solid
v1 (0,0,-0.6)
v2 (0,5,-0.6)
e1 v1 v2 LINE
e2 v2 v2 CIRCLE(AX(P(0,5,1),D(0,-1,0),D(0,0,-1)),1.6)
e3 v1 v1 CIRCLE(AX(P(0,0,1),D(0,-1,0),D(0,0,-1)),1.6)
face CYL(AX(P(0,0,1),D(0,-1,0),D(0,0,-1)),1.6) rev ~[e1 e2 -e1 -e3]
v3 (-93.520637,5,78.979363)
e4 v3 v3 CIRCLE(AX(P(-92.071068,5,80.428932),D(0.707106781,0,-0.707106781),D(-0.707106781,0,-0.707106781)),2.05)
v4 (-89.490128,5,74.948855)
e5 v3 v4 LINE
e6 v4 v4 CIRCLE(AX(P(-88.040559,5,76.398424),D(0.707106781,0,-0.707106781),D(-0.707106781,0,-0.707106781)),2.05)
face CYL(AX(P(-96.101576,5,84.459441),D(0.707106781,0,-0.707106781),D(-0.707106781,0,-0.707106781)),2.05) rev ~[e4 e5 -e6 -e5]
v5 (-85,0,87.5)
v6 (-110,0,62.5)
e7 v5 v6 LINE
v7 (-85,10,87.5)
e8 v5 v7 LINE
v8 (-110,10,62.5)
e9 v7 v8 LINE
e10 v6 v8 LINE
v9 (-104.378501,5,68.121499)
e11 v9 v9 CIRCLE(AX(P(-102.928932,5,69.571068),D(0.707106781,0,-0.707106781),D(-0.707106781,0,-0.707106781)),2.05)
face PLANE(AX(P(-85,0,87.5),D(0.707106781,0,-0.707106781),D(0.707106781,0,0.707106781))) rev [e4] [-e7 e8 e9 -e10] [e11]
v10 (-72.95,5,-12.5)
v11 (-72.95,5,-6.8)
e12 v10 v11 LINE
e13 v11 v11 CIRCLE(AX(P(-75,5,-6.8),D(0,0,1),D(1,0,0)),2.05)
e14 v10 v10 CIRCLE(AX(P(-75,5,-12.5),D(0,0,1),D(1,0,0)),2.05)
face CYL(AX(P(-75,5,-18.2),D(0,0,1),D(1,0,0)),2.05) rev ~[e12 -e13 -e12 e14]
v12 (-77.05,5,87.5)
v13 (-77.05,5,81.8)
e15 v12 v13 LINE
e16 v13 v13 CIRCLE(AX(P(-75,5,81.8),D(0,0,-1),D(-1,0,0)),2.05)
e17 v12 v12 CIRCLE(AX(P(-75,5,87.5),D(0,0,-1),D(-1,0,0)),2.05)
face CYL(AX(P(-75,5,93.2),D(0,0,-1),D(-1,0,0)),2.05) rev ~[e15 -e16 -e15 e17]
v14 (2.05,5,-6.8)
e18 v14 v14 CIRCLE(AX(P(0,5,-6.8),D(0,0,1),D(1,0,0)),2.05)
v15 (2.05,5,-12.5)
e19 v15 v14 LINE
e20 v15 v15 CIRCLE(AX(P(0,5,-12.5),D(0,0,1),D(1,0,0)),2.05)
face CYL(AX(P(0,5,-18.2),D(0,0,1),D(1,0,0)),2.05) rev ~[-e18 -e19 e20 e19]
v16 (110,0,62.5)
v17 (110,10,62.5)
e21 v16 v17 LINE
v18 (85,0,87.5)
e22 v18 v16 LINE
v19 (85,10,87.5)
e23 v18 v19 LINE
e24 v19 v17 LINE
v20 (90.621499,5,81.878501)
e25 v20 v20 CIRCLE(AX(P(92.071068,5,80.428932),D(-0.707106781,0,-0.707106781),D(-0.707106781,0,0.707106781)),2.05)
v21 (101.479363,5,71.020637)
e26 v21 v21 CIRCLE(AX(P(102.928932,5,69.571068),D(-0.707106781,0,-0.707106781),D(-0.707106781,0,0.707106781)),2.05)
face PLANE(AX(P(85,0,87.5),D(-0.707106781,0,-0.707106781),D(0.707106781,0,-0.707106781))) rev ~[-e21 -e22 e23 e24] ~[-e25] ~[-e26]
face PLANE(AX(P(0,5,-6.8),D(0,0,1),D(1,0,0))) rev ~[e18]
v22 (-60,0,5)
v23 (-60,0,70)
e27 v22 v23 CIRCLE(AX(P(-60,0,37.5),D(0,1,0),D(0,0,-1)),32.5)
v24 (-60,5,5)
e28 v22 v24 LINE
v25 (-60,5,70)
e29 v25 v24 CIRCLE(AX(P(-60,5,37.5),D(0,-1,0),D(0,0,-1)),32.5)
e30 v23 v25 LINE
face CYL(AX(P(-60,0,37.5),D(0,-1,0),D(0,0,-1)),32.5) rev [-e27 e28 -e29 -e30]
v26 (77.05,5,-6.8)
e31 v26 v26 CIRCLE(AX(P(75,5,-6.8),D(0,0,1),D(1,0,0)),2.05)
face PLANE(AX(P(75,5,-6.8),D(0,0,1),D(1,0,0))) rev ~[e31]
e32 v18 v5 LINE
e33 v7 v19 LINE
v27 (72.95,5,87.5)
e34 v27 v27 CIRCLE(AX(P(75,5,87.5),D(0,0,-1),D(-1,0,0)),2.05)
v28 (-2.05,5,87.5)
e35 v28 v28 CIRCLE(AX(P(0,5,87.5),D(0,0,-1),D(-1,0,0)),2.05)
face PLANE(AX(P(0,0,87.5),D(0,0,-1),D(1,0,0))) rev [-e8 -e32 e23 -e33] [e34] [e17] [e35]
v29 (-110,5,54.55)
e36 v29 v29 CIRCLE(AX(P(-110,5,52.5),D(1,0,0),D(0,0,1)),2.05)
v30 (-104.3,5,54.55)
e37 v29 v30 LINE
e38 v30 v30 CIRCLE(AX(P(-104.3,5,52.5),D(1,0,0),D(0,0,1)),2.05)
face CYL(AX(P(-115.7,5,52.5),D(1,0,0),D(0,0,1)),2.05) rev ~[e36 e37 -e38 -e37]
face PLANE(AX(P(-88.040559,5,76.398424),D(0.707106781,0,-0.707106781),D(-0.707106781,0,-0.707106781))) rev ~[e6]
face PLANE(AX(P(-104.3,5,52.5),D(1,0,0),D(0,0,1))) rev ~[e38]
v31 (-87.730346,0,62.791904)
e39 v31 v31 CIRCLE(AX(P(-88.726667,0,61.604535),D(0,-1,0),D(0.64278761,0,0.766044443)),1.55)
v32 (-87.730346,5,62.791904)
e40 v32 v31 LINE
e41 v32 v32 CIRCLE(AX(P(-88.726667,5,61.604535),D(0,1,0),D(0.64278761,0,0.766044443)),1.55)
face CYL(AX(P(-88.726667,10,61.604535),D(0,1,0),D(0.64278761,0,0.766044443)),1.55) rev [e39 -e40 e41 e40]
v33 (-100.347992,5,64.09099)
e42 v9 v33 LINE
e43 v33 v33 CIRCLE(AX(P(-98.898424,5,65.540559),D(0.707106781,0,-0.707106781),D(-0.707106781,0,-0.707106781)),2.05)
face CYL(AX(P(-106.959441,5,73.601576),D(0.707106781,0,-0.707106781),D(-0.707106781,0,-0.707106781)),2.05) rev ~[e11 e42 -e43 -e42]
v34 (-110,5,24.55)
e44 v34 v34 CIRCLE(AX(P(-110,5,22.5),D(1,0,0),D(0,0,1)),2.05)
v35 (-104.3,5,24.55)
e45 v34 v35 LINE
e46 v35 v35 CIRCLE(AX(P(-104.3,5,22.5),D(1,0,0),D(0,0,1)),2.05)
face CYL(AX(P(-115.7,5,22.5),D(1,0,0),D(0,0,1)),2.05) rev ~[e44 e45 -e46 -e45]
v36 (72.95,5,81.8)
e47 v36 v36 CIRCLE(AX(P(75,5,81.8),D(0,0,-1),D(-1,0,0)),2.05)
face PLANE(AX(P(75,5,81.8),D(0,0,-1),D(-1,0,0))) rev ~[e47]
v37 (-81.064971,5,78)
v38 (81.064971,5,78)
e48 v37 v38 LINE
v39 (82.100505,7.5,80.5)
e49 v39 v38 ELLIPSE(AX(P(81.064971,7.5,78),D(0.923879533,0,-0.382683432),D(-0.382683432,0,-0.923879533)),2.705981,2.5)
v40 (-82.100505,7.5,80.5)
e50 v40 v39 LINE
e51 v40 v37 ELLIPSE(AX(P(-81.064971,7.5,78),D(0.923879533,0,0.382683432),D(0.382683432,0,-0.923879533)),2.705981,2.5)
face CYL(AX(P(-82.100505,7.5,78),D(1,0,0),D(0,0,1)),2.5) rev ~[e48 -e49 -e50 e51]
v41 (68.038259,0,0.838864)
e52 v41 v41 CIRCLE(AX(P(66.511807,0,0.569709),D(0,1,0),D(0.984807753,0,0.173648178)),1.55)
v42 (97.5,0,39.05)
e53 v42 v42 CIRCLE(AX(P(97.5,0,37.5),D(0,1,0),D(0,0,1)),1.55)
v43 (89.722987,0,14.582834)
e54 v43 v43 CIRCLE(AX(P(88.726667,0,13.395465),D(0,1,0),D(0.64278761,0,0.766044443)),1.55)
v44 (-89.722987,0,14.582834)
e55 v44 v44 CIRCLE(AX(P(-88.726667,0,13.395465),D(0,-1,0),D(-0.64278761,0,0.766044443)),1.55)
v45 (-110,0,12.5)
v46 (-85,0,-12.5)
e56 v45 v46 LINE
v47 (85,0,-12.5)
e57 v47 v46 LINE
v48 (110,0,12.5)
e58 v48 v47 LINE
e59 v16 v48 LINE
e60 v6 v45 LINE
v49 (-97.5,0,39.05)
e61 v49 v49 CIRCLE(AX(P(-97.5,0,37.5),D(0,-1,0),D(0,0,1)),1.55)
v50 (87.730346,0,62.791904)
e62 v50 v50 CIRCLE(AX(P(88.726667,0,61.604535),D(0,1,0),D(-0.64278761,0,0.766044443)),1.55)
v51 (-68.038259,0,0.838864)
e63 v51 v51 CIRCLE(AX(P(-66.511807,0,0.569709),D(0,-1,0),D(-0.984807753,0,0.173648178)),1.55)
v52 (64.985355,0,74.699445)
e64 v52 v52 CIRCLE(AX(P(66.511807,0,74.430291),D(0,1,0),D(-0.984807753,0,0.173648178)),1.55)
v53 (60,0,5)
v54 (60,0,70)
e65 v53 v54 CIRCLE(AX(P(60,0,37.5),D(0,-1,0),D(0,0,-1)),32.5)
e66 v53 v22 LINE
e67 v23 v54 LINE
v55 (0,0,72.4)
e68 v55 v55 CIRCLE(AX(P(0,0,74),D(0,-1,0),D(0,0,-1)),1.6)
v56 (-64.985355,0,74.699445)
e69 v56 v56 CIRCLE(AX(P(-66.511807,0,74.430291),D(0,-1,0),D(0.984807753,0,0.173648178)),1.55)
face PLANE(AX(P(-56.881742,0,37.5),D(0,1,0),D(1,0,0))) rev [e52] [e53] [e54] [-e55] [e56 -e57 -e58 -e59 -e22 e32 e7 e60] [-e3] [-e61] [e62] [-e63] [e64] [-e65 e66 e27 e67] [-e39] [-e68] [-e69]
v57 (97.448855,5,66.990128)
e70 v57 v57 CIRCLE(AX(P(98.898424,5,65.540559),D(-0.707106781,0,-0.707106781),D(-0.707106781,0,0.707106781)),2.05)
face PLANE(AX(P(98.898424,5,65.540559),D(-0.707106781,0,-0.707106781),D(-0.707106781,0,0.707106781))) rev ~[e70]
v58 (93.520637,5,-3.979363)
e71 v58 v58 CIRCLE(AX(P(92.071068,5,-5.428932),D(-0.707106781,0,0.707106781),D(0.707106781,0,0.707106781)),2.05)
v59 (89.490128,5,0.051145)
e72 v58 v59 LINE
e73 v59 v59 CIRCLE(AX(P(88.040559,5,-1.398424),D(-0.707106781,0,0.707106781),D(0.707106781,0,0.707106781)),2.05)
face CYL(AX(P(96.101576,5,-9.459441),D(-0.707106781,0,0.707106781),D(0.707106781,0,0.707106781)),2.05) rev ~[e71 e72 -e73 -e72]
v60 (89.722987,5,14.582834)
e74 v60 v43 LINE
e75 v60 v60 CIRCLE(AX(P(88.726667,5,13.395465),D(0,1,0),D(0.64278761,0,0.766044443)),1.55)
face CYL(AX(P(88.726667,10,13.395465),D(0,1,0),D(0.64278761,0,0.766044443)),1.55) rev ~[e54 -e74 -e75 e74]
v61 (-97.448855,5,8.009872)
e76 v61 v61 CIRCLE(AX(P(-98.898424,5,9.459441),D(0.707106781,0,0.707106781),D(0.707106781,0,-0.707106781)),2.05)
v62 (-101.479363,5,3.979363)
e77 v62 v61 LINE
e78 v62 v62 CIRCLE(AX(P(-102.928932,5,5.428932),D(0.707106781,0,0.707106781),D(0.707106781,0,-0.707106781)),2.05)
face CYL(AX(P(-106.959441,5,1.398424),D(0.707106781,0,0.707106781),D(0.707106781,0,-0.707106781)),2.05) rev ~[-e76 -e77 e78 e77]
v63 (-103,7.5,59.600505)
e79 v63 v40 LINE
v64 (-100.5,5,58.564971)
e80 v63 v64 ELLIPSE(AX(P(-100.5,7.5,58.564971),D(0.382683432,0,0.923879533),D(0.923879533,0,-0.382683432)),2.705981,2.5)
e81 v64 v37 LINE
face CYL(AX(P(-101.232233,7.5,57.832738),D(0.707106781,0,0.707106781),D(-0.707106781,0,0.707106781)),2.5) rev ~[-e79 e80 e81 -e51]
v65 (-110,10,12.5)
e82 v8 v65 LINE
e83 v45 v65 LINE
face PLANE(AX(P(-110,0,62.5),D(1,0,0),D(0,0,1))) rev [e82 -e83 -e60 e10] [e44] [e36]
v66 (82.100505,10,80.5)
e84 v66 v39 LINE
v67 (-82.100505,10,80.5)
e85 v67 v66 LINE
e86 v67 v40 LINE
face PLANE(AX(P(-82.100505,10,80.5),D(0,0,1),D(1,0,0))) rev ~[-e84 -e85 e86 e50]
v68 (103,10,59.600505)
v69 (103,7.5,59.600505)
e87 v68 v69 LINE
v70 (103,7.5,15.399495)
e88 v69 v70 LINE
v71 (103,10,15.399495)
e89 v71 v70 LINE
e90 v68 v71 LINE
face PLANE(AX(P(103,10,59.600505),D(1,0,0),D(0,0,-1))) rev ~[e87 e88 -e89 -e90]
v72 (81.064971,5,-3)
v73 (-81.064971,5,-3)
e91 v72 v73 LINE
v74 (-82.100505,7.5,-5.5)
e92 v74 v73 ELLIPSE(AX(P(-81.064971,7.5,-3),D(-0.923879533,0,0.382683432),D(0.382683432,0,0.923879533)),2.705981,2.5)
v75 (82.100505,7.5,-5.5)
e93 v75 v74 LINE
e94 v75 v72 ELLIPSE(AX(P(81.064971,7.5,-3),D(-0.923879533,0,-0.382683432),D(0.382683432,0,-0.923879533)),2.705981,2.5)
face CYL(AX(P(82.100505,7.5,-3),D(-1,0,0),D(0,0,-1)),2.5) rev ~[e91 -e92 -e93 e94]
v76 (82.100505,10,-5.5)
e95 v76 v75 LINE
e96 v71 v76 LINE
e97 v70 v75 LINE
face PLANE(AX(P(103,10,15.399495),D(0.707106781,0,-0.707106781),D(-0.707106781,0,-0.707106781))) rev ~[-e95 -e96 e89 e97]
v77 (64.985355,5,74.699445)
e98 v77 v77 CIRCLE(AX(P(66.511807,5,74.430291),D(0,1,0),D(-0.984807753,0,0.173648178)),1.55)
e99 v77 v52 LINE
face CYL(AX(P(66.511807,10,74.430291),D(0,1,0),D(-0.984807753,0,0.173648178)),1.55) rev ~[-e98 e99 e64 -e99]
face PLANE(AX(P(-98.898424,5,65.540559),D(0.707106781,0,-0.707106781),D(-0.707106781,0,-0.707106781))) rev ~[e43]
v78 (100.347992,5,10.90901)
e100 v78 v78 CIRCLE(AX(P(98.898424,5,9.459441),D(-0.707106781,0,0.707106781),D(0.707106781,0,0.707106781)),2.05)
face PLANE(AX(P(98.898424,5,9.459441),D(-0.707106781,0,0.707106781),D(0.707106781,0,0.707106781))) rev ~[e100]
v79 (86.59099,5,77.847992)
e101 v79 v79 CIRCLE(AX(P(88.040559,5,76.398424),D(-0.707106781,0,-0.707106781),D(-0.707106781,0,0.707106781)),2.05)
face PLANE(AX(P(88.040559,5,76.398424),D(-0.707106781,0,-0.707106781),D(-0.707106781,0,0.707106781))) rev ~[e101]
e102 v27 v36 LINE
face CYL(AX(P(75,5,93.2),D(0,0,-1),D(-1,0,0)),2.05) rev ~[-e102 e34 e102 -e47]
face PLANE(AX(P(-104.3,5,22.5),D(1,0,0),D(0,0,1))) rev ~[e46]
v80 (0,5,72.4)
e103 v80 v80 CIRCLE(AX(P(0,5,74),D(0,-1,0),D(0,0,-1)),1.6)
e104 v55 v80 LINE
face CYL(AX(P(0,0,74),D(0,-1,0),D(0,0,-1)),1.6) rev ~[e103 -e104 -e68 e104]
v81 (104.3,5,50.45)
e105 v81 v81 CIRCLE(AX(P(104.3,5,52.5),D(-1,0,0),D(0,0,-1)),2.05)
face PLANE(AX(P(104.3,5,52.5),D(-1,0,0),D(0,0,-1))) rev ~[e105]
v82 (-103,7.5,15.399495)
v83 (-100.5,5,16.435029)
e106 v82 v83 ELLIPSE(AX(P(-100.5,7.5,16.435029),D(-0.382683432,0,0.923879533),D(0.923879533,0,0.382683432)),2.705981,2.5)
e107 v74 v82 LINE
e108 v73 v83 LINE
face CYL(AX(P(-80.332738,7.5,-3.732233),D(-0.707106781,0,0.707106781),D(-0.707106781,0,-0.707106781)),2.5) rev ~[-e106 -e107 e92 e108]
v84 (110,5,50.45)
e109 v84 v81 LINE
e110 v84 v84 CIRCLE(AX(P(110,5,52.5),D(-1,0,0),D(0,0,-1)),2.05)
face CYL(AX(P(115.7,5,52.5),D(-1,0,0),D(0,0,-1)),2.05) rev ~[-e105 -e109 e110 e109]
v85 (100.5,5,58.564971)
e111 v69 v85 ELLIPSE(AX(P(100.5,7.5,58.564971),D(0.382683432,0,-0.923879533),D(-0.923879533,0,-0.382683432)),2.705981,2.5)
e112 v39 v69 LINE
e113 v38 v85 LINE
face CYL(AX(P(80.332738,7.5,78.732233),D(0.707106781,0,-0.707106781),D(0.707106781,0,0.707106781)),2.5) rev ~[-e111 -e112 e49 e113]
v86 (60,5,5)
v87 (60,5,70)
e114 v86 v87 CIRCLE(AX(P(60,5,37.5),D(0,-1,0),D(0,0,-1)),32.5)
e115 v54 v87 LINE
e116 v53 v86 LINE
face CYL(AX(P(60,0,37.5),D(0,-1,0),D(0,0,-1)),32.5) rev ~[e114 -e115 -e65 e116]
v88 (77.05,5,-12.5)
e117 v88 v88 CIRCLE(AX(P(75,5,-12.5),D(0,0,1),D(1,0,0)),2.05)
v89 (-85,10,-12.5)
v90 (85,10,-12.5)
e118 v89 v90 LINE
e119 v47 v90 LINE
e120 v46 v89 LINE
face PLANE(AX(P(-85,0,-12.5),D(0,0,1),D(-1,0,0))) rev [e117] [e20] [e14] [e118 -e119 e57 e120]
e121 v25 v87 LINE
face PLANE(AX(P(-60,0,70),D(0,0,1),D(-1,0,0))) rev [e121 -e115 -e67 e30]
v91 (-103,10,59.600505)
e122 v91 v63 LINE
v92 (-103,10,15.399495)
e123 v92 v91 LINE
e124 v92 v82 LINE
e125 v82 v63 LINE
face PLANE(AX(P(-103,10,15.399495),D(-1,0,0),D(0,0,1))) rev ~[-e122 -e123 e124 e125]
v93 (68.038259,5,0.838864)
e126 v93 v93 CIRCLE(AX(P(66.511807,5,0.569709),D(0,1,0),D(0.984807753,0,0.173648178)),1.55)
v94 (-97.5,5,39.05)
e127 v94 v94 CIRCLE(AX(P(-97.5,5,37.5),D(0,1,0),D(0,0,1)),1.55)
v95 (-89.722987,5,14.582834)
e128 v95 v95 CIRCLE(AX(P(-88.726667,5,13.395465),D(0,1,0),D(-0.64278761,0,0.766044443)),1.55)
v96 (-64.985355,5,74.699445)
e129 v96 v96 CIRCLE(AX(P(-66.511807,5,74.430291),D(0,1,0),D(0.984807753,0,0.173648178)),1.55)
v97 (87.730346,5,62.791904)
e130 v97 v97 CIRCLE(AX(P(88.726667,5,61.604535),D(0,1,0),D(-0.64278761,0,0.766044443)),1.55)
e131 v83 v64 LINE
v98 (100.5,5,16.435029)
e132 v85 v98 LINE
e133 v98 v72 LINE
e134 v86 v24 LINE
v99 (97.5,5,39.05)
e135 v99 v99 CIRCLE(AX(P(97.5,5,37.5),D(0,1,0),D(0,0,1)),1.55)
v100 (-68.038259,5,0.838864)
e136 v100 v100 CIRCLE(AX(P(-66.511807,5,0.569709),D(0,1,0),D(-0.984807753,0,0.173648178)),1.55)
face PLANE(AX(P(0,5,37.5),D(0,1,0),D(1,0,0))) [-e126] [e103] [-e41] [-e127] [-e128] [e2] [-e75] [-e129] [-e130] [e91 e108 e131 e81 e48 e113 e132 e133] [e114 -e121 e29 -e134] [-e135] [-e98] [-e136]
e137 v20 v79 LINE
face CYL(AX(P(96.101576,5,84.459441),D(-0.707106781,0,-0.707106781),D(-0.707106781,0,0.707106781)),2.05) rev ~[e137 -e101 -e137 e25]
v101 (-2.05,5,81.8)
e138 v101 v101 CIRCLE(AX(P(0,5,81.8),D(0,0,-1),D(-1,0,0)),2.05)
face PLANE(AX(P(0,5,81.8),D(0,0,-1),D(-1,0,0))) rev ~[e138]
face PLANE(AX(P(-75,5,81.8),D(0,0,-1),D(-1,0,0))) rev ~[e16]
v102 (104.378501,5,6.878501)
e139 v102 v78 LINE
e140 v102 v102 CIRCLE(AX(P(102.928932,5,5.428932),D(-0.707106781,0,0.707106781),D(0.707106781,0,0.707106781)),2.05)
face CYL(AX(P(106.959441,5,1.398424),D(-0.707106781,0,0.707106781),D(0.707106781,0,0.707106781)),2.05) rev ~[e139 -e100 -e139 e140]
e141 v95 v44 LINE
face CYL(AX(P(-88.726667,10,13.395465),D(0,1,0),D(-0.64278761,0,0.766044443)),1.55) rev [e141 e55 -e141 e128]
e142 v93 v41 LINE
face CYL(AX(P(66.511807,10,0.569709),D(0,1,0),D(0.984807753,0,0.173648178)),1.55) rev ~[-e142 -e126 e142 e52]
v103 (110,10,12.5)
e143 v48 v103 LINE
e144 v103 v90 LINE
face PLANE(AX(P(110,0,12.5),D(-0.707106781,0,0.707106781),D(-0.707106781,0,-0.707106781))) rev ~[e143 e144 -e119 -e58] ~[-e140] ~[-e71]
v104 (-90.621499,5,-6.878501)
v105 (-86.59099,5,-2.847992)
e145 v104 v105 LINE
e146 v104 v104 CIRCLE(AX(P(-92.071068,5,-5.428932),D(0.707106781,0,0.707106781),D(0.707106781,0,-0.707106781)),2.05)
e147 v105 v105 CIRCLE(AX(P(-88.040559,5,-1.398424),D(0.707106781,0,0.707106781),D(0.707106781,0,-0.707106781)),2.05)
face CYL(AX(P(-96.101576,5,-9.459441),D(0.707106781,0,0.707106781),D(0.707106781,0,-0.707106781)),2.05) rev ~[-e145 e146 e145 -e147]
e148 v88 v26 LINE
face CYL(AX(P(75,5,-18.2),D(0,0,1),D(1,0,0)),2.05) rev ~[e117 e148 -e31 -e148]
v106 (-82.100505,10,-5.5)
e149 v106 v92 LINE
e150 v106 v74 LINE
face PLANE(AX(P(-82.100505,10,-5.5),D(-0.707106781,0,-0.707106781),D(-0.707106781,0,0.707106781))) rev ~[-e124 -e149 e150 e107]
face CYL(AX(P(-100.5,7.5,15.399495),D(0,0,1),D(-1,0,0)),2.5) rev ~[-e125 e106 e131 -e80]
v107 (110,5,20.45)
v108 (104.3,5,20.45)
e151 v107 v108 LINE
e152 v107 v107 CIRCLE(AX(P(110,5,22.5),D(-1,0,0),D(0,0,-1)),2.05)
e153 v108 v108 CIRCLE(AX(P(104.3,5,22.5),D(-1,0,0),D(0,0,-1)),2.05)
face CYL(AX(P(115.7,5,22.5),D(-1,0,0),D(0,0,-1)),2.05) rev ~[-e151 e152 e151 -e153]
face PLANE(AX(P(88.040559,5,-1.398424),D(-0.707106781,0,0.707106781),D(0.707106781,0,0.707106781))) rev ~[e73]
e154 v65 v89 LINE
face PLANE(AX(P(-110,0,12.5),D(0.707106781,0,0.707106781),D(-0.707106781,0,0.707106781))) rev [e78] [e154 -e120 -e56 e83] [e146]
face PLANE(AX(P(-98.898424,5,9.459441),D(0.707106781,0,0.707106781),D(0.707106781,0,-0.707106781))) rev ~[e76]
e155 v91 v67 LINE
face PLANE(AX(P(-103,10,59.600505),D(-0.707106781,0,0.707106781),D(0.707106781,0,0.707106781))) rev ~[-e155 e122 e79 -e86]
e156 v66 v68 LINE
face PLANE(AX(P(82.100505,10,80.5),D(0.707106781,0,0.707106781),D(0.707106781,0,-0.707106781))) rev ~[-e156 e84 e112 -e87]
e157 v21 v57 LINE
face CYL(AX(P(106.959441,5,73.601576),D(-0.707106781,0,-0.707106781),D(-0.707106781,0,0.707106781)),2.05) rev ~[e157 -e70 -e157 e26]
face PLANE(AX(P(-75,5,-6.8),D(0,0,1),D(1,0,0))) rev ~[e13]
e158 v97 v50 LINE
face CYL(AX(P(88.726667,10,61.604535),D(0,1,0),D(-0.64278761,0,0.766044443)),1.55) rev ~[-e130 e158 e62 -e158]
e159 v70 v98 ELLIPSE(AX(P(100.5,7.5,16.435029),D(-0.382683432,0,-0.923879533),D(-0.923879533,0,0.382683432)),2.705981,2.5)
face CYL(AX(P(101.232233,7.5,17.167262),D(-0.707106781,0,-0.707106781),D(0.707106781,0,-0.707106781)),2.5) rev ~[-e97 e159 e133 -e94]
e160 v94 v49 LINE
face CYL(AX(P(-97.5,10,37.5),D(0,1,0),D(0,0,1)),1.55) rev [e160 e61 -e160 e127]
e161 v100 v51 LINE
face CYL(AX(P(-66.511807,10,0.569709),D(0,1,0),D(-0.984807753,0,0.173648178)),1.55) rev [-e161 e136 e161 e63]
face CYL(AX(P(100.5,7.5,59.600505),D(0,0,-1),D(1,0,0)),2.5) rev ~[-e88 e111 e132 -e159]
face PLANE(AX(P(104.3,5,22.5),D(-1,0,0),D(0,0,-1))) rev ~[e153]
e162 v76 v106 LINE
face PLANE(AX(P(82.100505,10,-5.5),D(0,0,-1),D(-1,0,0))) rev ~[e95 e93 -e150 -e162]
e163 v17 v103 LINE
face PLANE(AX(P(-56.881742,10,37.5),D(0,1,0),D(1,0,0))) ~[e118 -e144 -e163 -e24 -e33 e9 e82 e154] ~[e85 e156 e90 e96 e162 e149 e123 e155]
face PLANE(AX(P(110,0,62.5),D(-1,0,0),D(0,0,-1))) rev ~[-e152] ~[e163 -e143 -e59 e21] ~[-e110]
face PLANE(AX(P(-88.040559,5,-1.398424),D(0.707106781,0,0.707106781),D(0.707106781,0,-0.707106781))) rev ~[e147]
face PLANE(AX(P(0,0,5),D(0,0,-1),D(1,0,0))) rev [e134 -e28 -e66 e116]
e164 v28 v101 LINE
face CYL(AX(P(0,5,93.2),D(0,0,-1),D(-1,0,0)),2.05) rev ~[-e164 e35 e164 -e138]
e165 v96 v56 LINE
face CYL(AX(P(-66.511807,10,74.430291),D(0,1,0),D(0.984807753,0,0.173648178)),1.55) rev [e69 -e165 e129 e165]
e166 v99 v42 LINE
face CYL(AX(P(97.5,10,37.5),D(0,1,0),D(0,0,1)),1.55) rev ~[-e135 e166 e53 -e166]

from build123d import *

# Parameters (mm, degrees)
MAIN_DEPTH                                     = 10
SKETCH3_R                                      = 1.55
ACTUATOR_SCREW_HOLE_DEPTH                      = 141.91220671
ACTUATOR_SCREW_HOLE_PATTERN_COUNT              = 3
ACTUATOR_SCREW_HOLE_PATTERN_ANGLE              = 80
ACTUATOR_SCREW_HOLE_PATTERN_THE_OTHER_WA_COUNT = 3
ACTUATOR_SCREW_HOLE_PATTERN_THE_OTHER_WA_ANGLE = 80
DISH_DEPTH                                     = 5
DISH_FILLET_R                                  = 2.5
F_4_0MM_DOWEL_HOLE1_D                          = 4.1
F_4_0MM_DOWEL_HOLE1_DEPTH                      = 5.7
F_4_0MM_DOWEL_HOLE1_ON_FACE_2_D                = 4.1
F_4_0MM_DOWEL_HOLE1_ON_FACE_2_DEPTH            = 5.7
F_4_0MM_DOWEL_HOLE1_ON_FACE_3_D                = 4.1
F_4_0MM_DOWEL_HOLE1_ON_FACE_3_DEPTH            = 5.7
F_4_0MM_DOWEL_HOLE1_ON_FACE_4_D                = 4.1
F_4_0MM_DOWEL_HOLE1_ON_FACE_4_DEPTH            = 5.7
F_4_0MM_DOWEL_HOLE1_ON_FACE_5_D                = 4.1
F_4_0MM_DOWEL_HOLE1_ON_FACE_5_DEPTH            = 5.7
F_4_0MM_DOWEL_HOLE1_ON_FACE_6_D                = 4.1
F_4_0MM_DOWEL_HOLE1_ON_FACE_6_DEPTH            = 5.7
F_4_0MM_DOWEL_HOLE1_ON_FACE_7_D                = 4.1
F_4_0MM_DOWEL_HOLE1_ON_FACE_7_DEPTH            = 5.7
F_4_0MM_DOWEL_HOLE1_ON_FACE_8_D                = 4.1
F_4_0MM_DOWEL_HOLE1_ON_FACE_8_DEPTH            = 5.7
F_4_0MM_DOWEL_HOLE1_ON_FACE_9_D                = 4.1
F_4_0MM_DOWEL_HOLE1_ON_FACE_9_DEPTH            = 5.7
F_4_0MM_DOWEL_HOLE1_ON_FACE_10_D               = 4.1
F_4_0MM_DOWEL_HOLE1_ON_FACE_10_DEPTH           = 5.7
SKETCH14_R                                     = 1.6
COVER_SRCREWHOLES_DEPTH                        = 141.91220671


with BuildPart() as part:
    # Sketch1 → Main (new body)
    with BuildSketch(Plane(origin=(0, 0, 0), x_dir=(1, 0, 0), z_dir=(0, 1, 0))):
        with BuildLine():
            Line((85, 12.5), (0, 12.5))
            Line((0, 12.5), (0, 0))
            Line((0, 0), (0, -5))
            Line((0, -5), (60, -5))
            ThreePointArc((60, -5), (92.5, -37.5), (60, -70))
            Line((60, -70), (0, -70))
            Line((0, -70), (0, -75))
            Line((0, -75), (0, -87.5))
            Line((0, -87.5), (85, -87.5))
            Line((85, -87.5), (110, -62.5))
            Line((110, -62.5), (110, -12.5))
            Line((110, -12.5), (85, 12.5))
        make_face()
    extrude(amount=MAIN_DEPTH)

    # Sketch3 → Actuator Screw Hole (cut, through all)
    with BuildSketch(Plane(origin=(0, 10, 0), x_dir=(1, 0, 0), z_dir=(0, 1, 0))):
        with Locations(Location((97.5, -37.5, 0), (0, 0, 270))):
            Circle(SKETCH3_R)
    actuator_screw_hole = extrude(amount=-ACTUATOR_SCREW_HOLE_DEPTH, mode=Mode.SUBTRACT)

    # Actuator Screw Hole Pattern: Actuator Screw Hole ×3 about axis
    actuator_screw_hole_pattern_axis = Axis((60, 0, 37.5), (0, 1, 0))
    for i in range(1, ACTUATOR_SCREW_HOLE_PATTERN_COUNT):
        add(actuator_screw_hole.rotate(actuator_screw_hole_pattern_axis, i * ACTUATOR_SCREW_HOLE_PATTERN_ANGLE / (ACTUATOR_SCREW_HOLE_PATTERN_COUNT - 1)), mode=Mode.SUBTRACT)

    # Actuator Screw Hole Pattern the other wa: Actuator Screw Hole ×3 about axis
    actuator_screw_hole_pattern_the_other_wa_axis = Axis((60, 0, 37.5), (0, -1, 0))
    for i in range(1, ACTUATOR_SCREW_HOLE_PATTERN_THE_OTHER_WA_COUNT):
        add(actuator_screw_hole.rotate(actuator_screw_hole_pattern_the_other_wa_axis, i * ACTUATOR_SCREW_HOLE_PATTERN_THE_OTHER_WA_ANGLE / (ACTUATOR_SCREW_HOLE_PATTERN_THE_OTHER_WA_COUNT - 1)), mode=Mode.SUBTRACT)

    # Mirror1: part across plane


with BuildPart() as part_1:
    add(part.part)
    add(part.part.mirror(Plane(origin=(0, 0, 0), x_dir=(0, 0, 1), z_dir=(1, 0, 0))))

    # Sketch8 → Dish (cut)
    with BuildSketch(Plane(origin=(0, 10, 0), x_dir=(1, 0, 0), z_dir=(0, 1, 0))):
        Polygon((82.100505063, 5.5), (-82.100505063, 5.5), (-103, -15.399494937), (-103, -59.600505063), (-82.100505063, -80.5), (82.100505063, -80.5), (103, -59.600505063), (103, -15.399494937), align=None)
    extrude(amount=-DISH_DEPTH, mode=Mode.SUBTRACT)

    # Dish fillet
    dish_fillet_edges = [part_1.edges().sort_by_distance(p)[0] for p in [
        (92.550252532, 5, 4.949747468),
        (103, 5, 37.5),
        (92.550252532, 5, 70.050252532),
        (0, 5, 80.5),
        (-92.550252532, 5, 70.050252532),
        (-103, 5, 37.5),
        (-92.550252532, 5, 4.949747468),
        (0, 5, -5.5),
    ]]
    fillet(dish_fillet_edges, radius=DISH_FILLET_R)

    # Ø4.0mm Dowel Hole1
    with Locations(Plane(origin=(75, 5, -12.5), x_dir=(-1, 0, 0), z_dir=(0, 0, -1))):
        with Locations((0, 0), (75, 0), (150, 0)):
            Hole(F_4_0MM_DOWEL_HOLE1_D / 2, depth=F_4_0MM_DOWEL_HOLE1_DEPTH)

    # Ø4.0mm Dowel Hole1 on face 2
    with Locations(Plane(origin=(-92.071067812, 5, -5.428932188), x_dir=(-0.707106781187, 0, 0.707106781187), z_dir=(-0.707106781187, 0, -0.707106781187))):
        with Locations((0, 0), (15.355339059, 0)):
            Hole(F_4_0MM_DOWEL_HOLE1_ON_FACE_2_D / 2, depth=F_4_0MM_DOWEL_HOLE1_ON_FACE_2_DEPTH)

    # Ø4.0mm Dowel Hole1 on face 3
    with Locations(Plane(origin=(-110, 5, 22.5), x_dir=(0, 0, -1), z_dir=(-1, 0, 0))):
        with Locations((0, 0), (-30, 0)):
            Hole(F_4_0MM_DOWEL_HOLE1_ON_FACE_3_D / 2, depth=F_4_0MM_DOWEL_HOLE1_ON_FACE_3_DEPTH)

    # Ø4.0mm Dowel Hole1 on face 4
    with Locations(Plane(origin=(-102.928932188, 5, 69.571067812), x_dir=(0.707106781187, 0, 0.707106781187), z_dir=(-0.707106781187, 0, 0.707106781187))):
        with Locations((0, 0)):
            Hole(F_4_0MM_DOWEL_HOLE1_ON_FACE_4_D / 2, depth=F_4_0MM_DOWEL_HOLE1_ON_FACE_4_DEPTH)

    # Ø4.0mm Dowel Hole1 on face 5
    with Locations(Plane(origin=(-92.071067812, 5, 80.428932188), x_dir=(0.707106781187, 0, 0.707106781187), z_dir=(-0.707106781187, 0, 0.707106781187))):
        with Locations((0, 0)):
            Hole(F_4_0MM_DOWEL_HOLE1_ON_FACE_5_D / 2, depth=F_4_0MM_DOWEL_HOLE1_ON_FACE_5_DEPTH)

    # Ø4.0mm Dowel Hole1 on face 6
    with Locations(Plane(origin=(-75, 5, 87.5), x_dir=(1, 0, 0), z_dir=(0, 0, 1))):
        with Locations((0, 0), (75, 0), (150, 0)):
            Hole(F_4_0MM_DOWEL_HOLE1_ON_FACE_6_D / 2, depth=F_4_0MM_DOWEL_HOLE1_ON_FACE_6_DEPTH)

    # Ø4.0mm Dowel Hole1 on face 7
    with Locations(Plane(origin=(92.071067812, 5, 80.428932188), x_dir=(0.707106781187, 0, -0.707106781187), z_dir=(0.707106781187, 0, 0.707106781187))):
        with Locations((0, 0)):
            Hole(F_4_0MM_DOWEL_HOLE1_ON_FACE_7_D / 2, depth=F_4_0MM_DOWEL_HOLE1_ON_FACE_7_DEPTH)

    # Ø4.0mm Dowel Hole1 on face 8
    with Locations(Plane(origin=(102.928932188, 5, 69.571067812), x_dir=(0.707106781187, 0, -0.707106781187), z_dir=(0.707106781187, 0, 0.707106781187))):
        with Locations((0, 0)):
            Hole(F_4_0MM_DOWEL_HOLE1_ON_FACE_8_D / 2, depth=F_4_0MM_DOWEL_HOLE1_ON_FACE_8_DEPTH)

    # Ø4.0mm Dowel Hole1 on face 9
    with Locations(Plane(origin=(110, 5, 52.5), x_dir=(0, 0, 1), z_dir=(1, 0, 0))):
        with Locations((0, 0), (-30, 0)):
            Hole(F_4_0MM_DOWEL_HOLE1_ON_FACE_9_D / 2, depth=F_4_0MM_DOWEL_HOLE1_ON_FACE_9_DEPTH)

    # Ø4.0mm Dowel Hole1 on face 10
    with Locations(Plane(origin=(102.928932188, 5, 5.428932188), x_dir=(-0.707106781187, 0, -0.707106781187), z_dir=(0.707106781187, 0, -0.707106781187))):
        with Locations((0, 0), (15.355339059, 0)):
            Hole(F_4_0MM_DOWEL_HOLE1_ON_FACE_10_D / 2, depth=F_4_0MM_DOWEL_HOLE1_ON_FACE_10_DEPTH)

    # Sketch14 → Cover srcrewholes (cut, through all)
    with BuildSketch(Plane.XZ):
        with Locations(Location((0, 1, 0), (0, 0, 270))):
            Circle(SKETCH14_R)
        with Locations(Location((0, 74, 0), (0, 0, 270))):
            Circle(SKETCH14_R)
    extrude(amount=-COVER_SRCREWHOLES_DEPTH, mode=Mode.SUBTRACT)


solid = part_1.part
